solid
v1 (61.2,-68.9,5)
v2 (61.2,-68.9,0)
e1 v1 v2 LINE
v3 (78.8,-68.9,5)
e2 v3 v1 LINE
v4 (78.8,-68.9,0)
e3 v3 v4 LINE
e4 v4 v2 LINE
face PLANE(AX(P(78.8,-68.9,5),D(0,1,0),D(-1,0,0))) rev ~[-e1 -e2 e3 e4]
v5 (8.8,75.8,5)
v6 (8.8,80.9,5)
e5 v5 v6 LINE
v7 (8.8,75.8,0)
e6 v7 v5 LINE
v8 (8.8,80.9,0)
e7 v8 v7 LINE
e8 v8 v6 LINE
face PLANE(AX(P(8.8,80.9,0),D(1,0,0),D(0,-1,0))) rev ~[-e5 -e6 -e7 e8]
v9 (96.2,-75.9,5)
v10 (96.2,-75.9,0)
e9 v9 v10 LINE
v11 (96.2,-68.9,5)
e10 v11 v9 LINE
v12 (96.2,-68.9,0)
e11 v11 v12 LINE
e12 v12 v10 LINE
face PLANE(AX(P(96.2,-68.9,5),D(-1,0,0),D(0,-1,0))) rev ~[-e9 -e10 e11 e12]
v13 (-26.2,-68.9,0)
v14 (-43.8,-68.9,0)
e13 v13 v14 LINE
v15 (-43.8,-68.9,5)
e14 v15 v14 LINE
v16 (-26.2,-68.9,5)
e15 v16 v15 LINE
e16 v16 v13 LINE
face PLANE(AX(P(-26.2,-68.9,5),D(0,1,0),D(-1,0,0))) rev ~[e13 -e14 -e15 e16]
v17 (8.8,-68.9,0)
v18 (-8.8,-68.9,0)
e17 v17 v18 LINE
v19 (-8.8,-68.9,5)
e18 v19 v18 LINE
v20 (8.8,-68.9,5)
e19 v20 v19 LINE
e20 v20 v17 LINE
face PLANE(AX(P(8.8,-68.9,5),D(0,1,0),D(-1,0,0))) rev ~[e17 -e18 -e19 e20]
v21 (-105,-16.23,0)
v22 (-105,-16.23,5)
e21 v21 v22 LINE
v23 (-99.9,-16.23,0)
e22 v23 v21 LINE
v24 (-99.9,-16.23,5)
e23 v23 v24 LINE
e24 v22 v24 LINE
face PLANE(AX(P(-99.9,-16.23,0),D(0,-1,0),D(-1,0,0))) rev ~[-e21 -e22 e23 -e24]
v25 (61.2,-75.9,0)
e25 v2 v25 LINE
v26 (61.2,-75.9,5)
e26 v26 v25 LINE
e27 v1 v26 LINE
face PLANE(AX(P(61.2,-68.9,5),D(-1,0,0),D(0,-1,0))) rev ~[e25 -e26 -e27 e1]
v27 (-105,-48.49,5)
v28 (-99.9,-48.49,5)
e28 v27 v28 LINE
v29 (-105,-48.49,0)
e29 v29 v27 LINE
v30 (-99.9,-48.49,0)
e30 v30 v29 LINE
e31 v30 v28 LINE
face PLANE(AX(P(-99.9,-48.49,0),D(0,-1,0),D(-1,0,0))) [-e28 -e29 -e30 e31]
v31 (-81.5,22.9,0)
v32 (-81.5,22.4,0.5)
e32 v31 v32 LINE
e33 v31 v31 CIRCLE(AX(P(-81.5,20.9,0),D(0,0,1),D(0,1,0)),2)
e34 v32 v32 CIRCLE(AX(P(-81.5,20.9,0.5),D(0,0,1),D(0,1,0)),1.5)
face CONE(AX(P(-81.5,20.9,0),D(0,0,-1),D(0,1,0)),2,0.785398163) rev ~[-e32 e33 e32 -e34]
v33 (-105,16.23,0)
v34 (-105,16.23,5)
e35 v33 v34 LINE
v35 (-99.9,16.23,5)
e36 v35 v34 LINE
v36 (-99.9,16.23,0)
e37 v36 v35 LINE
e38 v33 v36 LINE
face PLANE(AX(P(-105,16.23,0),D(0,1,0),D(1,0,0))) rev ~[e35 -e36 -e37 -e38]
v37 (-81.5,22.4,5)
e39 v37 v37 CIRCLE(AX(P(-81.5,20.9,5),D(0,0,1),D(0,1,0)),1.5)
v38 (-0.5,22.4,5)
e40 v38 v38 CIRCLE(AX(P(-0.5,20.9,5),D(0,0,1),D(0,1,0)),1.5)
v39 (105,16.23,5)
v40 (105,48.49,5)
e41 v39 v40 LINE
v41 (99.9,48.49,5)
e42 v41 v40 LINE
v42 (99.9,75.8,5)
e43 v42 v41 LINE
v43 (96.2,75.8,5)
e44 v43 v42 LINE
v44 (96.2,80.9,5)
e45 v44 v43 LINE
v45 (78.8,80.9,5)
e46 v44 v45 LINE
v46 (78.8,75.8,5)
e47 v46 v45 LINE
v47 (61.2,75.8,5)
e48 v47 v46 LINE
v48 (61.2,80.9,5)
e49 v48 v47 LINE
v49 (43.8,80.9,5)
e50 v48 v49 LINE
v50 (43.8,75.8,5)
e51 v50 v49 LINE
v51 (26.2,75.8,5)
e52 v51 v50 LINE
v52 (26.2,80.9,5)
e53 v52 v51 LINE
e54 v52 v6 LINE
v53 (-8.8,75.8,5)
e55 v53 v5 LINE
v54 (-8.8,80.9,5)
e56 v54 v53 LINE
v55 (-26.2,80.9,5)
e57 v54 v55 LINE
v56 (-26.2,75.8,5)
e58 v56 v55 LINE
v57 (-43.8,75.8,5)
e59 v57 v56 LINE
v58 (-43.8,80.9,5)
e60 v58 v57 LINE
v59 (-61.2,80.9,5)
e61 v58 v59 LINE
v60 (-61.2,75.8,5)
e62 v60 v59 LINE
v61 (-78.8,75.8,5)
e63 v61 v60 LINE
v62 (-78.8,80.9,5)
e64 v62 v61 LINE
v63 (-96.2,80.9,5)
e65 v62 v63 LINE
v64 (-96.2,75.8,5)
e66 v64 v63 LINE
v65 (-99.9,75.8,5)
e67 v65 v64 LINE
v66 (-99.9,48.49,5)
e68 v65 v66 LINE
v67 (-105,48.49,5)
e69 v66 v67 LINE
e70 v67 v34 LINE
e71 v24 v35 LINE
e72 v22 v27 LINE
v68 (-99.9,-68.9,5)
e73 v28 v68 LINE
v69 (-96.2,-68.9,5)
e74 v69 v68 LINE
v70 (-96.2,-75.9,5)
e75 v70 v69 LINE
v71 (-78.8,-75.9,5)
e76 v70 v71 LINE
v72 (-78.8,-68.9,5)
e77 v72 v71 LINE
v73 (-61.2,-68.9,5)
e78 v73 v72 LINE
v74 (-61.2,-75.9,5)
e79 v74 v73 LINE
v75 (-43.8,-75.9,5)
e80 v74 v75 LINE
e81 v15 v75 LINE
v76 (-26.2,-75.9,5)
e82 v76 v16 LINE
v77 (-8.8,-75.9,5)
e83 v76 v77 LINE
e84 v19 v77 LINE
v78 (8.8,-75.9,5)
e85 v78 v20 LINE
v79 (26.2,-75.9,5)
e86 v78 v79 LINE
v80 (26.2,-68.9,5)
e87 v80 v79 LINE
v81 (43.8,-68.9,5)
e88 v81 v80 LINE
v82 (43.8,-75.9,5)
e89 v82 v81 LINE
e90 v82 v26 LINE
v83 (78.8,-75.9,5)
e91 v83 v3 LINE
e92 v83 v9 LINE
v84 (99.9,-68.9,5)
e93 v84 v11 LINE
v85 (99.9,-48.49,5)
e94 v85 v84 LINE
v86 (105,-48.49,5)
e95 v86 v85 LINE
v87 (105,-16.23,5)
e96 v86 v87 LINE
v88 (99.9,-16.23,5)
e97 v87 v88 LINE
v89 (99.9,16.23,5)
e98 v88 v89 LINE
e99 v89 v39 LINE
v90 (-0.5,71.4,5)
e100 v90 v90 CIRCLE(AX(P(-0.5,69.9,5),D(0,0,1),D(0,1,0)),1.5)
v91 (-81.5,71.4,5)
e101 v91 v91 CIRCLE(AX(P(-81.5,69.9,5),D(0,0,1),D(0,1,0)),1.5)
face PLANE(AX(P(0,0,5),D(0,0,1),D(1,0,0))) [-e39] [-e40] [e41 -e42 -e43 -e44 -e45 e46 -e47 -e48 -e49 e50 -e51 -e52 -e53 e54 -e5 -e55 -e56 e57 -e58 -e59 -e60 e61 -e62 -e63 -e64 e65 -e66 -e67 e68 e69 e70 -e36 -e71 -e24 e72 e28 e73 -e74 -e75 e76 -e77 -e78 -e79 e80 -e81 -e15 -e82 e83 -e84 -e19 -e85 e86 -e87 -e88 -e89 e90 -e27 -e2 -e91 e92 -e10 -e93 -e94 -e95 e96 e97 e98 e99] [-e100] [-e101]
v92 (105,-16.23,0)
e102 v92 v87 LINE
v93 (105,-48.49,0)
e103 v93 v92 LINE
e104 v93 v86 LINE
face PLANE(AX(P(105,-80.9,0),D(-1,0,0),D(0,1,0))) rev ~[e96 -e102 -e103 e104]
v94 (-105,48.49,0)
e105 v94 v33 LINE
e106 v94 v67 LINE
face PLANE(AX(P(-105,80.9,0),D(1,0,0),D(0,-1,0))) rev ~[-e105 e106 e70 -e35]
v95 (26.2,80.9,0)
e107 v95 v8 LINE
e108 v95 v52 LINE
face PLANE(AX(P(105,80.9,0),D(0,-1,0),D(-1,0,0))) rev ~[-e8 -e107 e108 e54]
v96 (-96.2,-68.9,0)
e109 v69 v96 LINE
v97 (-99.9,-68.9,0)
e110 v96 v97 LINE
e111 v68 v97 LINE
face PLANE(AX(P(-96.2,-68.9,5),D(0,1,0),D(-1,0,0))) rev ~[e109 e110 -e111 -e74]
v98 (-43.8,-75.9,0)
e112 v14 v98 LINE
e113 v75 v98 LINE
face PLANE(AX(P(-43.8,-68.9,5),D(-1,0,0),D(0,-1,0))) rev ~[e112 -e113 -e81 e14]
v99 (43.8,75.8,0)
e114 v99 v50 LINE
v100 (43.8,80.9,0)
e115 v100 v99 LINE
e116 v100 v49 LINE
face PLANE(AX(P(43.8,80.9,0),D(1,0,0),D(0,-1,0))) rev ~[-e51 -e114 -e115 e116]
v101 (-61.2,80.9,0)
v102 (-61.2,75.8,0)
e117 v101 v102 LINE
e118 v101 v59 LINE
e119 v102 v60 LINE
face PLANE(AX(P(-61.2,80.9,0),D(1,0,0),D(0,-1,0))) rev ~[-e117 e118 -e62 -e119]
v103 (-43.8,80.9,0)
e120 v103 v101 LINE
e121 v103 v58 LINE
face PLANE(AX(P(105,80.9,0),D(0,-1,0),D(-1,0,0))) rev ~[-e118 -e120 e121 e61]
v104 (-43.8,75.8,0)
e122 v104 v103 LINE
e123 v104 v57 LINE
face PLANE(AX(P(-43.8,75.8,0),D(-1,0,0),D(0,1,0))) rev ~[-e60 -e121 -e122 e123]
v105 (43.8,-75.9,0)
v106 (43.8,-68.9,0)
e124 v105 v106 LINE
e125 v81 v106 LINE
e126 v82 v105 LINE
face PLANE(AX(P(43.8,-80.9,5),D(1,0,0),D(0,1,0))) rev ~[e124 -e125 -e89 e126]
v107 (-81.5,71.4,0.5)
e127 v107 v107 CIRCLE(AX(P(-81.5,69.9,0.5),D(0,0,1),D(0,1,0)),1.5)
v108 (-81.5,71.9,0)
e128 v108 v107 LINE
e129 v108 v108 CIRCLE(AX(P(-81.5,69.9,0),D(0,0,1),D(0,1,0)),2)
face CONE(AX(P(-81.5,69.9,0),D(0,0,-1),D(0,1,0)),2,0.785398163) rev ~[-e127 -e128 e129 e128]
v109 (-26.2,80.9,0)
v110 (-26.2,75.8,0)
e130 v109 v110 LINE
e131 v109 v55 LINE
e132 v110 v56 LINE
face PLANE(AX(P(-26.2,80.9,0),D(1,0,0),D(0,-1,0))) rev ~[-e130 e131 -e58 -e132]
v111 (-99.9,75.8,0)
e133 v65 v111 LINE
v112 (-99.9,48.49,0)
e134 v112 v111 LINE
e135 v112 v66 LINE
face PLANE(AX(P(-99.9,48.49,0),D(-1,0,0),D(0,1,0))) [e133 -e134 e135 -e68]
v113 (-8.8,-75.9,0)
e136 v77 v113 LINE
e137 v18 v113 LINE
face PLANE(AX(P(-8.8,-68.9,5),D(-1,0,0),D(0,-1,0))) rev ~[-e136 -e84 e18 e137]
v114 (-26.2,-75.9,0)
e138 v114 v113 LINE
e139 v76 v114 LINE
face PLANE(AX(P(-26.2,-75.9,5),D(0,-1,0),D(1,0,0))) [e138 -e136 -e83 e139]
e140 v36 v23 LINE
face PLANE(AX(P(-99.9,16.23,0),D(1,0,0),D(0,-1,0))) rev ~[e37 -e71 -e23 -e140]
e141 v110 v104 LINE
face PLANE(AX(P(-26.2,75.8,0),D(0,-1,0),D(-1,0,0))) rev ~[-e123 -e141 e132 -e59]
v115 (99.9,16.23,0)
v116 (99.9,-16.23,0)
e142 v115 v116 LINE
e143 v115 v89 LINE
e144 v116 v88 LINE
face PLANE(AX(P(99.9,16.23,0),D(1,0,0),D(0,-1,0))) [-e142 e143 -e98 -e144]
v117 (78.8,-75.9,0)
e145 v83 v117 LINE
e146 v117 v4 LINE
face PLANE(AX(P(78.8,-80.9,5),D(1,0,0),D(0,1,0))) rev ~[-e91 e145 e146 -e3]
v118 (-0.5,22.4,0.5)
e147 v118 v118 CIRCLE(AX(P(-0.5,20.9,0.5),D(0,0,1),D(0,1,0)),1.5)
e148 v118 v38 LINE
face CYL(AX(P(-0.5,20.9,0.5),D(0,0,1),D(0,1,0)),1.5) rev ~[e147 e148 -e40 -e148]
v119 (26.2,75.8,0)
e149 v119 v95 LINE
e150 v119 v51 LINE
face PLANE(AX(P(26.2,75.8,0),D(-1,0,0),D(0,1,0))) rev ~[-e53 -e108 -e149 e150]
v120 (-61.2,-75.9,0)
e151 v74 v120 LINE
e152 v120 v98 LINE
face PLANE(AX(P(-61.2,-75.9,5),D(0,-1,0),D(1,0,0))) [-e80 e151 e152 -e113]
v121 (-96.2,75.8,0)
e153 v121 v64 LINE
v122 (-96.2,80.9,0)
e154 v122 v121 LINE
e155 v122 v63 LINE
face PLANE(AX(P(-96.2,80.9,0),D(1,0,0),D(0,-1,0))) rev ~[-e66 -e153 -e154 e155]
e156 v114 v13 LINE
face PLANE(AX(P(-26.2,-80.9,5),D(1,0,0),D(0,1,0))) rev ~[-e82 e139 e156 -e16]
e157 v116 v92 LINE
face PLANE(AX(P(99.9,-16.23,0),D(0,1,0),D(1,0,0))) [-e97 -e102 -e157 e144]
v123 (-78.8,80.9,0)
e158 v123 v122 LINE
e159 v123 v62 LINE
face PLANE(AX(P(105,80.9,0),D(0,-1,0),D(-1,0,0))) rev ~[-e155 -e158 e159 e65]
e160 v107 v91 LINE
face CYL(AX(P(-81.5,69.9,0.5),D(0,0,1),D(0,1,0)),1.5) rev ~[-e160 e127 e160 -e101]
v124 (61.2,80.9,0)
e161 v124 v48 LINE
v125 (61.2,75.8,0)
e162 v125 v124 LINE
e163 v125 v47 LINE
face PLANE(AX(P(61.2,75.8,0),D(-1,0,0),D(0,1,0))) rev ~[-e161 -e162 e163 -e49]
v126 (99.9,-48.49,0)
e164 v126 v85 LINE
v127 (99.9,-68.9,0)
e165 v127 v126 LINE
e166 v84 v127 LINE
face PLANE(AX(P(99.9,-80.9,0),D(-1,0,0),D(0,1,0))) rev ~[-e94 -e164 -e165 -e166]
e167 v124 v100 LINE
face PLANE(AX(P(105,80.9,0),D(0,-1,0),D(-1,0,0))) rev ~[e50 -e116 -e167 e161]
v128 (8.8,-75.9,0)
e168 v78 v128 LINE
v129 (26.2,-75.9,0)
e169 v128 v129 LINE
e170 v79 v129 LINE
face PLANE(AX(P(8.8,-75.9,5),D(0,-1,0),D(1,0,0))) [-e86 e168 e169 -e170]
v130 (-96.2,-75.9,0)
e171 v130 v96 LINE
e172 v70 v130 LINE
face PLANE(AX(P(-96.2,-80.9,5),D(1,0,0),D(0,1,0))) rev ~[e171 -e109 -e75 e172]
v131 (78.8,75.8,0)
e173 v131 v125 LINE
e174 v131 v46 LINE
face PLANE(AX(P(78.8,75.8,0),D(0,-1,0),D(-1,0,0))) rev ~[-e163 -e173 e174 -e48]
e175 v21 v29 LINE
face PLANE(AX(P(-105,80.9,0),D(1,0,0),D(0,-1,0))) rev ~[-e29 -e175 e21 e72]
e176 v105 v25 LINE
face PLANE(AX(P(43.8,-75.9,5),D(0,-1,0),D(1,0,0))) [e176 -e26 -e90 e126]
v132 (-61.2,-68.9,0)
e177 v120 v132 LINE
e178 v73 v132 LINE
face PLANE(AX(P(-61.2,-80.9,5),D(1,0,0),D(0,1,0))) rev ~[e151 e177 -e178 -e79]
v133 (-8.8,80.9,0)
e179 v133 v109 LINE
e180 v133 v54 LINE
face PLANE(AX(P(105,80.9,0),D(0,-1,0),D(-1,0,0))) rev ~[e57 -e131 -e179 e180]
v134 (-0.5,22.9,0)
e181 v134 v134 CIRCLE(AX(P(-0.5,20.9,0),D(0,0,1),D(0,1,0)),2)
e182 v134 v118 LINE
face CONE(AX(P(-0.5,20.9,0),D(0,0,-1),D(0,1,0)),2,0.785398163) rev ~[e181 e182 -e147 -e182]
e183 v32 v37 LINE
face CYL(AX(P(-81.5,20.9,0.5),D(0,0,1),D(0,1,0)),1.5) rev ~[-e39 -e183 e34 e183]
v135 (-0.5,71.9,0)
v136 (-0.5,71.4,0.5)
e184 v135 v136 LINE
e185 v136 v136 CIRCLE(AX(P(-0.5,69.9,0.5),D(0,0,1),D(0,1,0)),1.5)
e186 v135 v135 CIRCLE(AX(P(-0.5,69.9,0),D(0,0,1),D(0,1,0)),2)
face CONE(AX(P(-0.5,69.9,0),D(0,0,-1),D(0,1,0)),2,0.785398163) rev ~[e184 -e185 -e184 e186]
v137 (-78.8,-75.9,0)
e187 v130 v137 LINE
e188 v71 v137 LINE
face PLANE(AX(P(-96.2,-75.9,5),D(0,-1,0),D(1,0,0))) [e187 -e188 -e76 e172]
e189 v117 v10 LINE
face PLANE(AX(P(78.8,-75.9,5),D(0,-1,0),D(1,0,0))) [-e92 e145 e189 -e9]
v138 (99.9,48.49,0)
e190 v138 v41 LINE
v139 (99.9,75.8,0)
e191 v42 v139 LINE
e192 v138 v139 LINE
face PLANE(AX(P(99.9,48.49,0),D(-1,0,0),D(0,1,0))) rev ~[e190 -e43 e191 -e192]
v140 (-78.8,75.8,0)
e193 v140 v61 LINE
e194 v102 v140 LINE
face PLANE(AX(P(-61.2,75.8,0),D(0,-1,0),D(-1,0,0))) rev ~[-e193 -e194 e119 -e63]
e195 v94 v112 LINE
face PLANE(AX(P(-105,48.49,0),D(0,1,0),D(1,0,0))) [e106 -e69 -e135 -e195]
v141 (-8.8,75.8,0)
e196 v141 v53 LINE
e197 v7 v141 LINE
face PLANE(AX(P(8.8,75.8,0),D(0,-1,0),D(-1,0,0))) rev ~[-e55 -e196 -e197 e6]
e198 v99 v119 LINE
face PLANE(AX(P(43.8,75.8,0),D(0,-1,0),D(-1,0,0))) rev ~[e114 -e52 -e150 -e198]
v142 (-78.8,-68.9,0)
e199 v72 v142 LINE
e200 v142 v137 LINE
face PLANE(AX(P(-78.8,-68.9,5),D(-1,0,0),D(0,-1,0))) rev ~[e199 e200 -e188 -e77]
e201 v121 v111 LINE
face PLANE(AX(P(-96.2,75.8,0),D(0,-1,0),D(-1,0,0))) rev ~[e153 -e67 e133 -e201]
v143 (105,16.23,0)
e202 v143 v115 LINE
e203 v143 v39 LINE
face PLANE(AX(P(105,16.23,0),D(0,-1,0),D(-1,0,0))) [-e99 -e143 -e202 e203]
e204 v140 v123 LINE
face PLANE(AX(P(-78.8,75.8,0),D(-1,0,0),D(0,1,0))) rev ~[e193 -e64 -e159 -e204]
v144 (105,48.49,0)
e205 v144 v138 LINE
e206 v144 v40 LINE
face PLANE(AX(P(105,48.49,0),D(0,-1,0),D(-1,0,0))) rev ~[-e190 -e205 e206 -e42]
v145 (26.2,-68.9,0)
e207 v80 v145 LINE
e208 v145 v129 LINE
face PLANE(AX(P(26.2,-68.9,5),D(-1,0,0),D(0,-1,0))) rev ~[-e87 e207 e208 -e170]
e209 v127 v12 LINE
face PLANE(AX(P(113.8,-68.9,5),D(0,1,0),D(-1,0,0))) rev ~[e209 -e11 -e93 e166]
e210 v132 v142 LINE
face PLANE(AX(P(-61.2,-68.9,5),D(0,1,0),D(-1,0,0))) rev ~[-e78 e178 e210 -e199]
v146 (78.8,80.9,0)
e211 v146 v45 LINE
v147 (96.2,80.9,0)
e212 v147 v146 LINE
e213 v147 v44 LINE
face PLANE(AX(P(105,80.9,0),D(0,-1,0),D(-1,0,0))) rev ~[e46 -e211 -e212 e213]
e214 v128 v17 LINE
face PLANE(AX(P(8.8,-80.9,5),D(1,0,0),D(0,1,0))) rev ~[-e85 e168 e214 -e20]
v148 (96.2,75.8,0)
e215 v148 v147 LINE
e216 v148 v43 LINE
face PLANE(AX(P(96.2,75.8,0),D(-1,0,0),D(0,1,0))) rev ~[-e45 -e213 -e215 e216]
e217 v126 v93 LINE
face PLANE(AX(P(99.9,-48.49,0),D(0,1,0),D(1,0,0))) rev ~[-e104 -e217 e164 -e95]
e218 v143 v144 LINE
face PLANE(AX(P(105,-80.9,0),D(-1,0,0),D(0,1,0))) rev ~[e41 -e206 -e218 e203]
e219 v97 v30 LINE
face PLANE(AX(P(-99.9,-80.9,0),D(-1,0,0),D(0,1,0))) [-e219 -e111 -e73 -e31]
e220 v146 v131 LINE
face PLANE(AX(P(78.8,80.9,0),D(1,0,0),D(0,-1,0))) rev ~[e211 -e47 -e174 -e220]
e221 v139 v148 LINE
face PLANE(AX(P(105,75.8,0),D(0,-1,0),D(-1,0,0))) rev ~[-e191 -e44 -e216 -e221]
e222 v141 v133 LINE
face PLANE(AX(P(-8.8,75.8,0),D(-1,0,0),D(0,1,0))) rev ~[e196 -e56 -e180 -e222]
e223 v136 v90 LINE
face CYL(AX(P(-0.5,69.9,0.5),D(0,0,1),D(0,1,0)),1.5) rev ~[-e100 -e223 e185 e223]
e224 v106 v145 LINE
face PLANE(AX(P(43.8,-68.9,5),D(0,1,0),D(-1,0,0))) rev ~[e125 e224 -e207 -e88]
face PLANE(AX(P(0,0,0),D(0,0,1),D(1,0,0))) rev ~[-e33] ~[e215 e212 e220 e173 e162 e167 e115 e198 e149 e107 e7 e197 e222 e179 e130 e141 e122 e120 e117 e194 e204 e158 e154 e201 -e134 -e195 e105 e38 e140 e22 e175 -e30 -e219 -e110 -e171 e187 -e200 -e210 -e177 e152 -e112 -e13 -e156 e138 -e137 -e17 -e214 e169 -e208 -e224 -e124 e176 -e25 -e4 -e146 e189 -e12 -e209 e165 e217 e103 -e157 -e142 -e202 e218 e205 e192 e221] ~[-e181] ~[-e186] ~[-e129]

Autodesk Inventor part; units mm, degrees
ref_plane "YZ Plane" through (0, 0, 0) normal (1, 0, 0) x (0, 1, 0)
ref_plane "XZ Plane" through (0, 0, 0) normal (0, 1, 0) x (-1, 0, 0)
ref_plane "XY Plane" through (0, 0, 0) normal (0, 0, 1) x (1, 0, 0)
sketch "Sketch1" plane through (0, 0, 0) normal (0, 0, 1) x (1, 0, 0)
  line L0 (-105, -80.9) -> (105, -80.9)
  line L1 (105, -80.9) -> (105, 80.9)
  line L2 (105, 80.9) -> (-105, 80.9)
  line L3 (-105, 80.9) -> (-105, -80.9)
  line L4 (-105, -80.9) -> (105, 80.9) construction
  line L5 (105, -80.9) -> (-105, 80.9) construction
  point P0 (0, 0)
  dimension "d0" = 210
  dimension "d1" = 161.8
extrude "Extrusion1" add sketch "Sketch1" along normal blind 5
sketch "Sketch3" plane through (0, 0, 0) normal (0, 0, -1) x (-1, 0, 0)
  line L0 (0.5, 69.9) -> (81.5, 69.9)
  line L1 (81.5, 69.9) -> (81.5, 20.9)
  line L2 (81.5, 20.9) -> (0.5, 20.9)
  line L3 (0.5, 20.9) -> (0.5, 69.9)
  line L4 (105, 80.9) -> (105, -80.9) projected
  line L5 (-105, 80.9) -> (105, 80.9) projected
  point P0 (0, 0)
  dimension "d20" = 49
  dimension "d21" = 81
  dimension "d22" = 23.5
  dimension "d23" = 11
hole "Hole2" at (-0.5, 69.9, 0) at (-81.5, 69.9, 0) at (-0.5, 20.9, 0) at (-81.5, 20.9, 0) direction (0, 0, 1) diameter 3 end through all countersink diameter 4 countersink angle 90
sketch "Sketch4" plane through (0, 0, 0) normal (0, 0, -1) x (-1, 0, 0)
  line L0 (-105, 80.9) -> (105, 80.9) projected
  circle A0 centre (81.5, 20.9) radius 2 projected
  circle A1 centre (0.5, 20.9) radius 2 projected
  circle A2 centre (81.5, 69.9) radius 2 projected
  circle A3 centre (0.5, 69.9) radius 2 projected
  line L1 (-105, -80.9) -> (-105, 80.9) projected
  line L2 (105, -80.9) -> (-105, -80.9) projected
  line L3 (105, 80.9) -> (105, -80.9) projected
  line L4 (-105, 80.9) -> (105, 80.9) projected
  line L5 (8.8, 80.9) -> (-8.8, 80.9)
  line L6 (-8.8, 80.9) -> (-8.8, 75.8)
  line L7 (-8.8, 75.8) -> (8.8, 75.8)
  line L8 (8.8, 75.8) -> (8.8, 80.9)
  line L9 (-26.2, 75.8) -> (-26.2, 80.9)
  line L10 (-26.2, 80.9) -> (-43.8, 80.9)
  line L11 (-43.8, 80.9) -> (-43.8, 75.8)
  line L12 (-43.8, 75.8) -> (-26.2, 75.8)
  line L13 (-61.2, 75.8) -> (-61.2, 80.9)
  line L14 (-61.2, 80.9) -> (-78.8, 80.9)
  line L15 (-78.8, 80.9) -> (-78.8, 75.8)
  line L16 (-78.8, 75.8) -> (-61.2, 75.8)
  line L17 (-96.2, 75.8) -> (-96.2, 80.9)
  line L18 (-96.2, 80.9) -> (-113.8, 80.9)
  line L19 (-113.8, 80.9) -> (-113.8, 75.8)
  line L20 (-113.8, 75.8) -> (-96.2, 75.8)
  line L21 (26.2, 80.9) -> (26.2, 75.8)
  line L22 (43.8, 80.9) -> (26.2, 80.9)
  line L23 (43.8, 75.8) -> (43.8, 80.9)
  line L24 (26.2, 75.8) -> (43.8, 75.8)
  line L25 (61.2, 80.9) -> (61.2, 75.8)
  line L26 (78.8, 80.9) -> (61.2, 80.9)
  line L27 (78.8, 75.8) -> (78.8, 80.9)
  line L28 (61.2, 75.8) -> (78.8, 75.8)
  line L29 (96.2, 80.9) -> (96.2, 75.8)
  line L30 (113.8, 80.9) -> (96.2, 80.9)
  line L31 (113.8, 75.8) -> (113.8, 80.9)
  line L32 (96.2, 75.8) -> (113.8, 75.8)
  line L33 (0, 0) -> (105, 0) construction
  point P0 (0, 75.8)
  point P1 (8.8, 80.9)
  point P2 (-8.8, 80.9)
  point P3 (0, 80.9)
  point P4 (-35, 80.9)
  point P5 (-35, 75.8)
  point P6 (-70, 80.9)
  point P7 (-70, 75.8)
  point P8 (-105, 80.9)
  point P9 (-105, 75.8)
  point P10 (35, 75.8)
  point P11 (35, 80.9)
  point P12 (70, 75.8)
  point P13 (70, 80.9)
  point P14 (105, 75.8)
  point P15 (105, 80.9)
  point P16 (-105, 75.8)
  point P17 (105, 75.8)
  dimension "d43" = 210
  dimension "d44" = 17.6
  dimension "d45" = 5.1
  dimension "d48" = 35
  dimension "d55" = 35
extrude "Extrusion2" cut sketch "Sketch4" against normal blind 10 contours L0 L17 L20 L1 | L0 L13 L16 L15 | L0 L9 L12 L11 | L32 L29 L0 L3 | L0 L8 L7 L6 | L27 L28 L25 L0 | L0 L23 L24 L21
sketch "Sketch5" plane through (0, 0, 0) normal (0, 0, -1) x (-1, 0, 0)
  line L0 (-105, -80.9) -> (-105, 80.9) projected
  line L1 (-105, 80.9) -> (26.2, 80.9) projected
  line L2 (-105, 48.49) -> (-99.9, 48.49)
  line L3 (-99.9, 48.49) -> (-99.9, 80.9)
  line L4 (-99.9, 80.9) -> (-105, 80.9)
  line L5 (-105, 80.9) -> (-105, 48.49)
  line L6 (-105, 16.23) -> (-99.9, 16.23)
  line L7 (-99.9, 16.23) -> (-99.9, -16.23)
  line L8 (-99.9, -16.23) -> (-105, -16.23)
  line L9 (-105, -16.23) -> (-105, 16.23)
  line L10 (-105, -80.9) -> (-99.9, -80.9)
  line L11 (-99.9, -80.9) -> (-99.9, -48.49)
  line L12 (-99.9, -48.49) -> (-105, -48.49)
  line L13 (-105, -48.49) -> (-105, -80.9)
  line L14 (-102.45, 48.49) -> (-102.45, 16.23) construction
  line L15 (-102.45, -48.49) -> (-102.45, -16.23) construction
  line L16 (0, 0) -> (0, 62.5) construction
  line L17 (105, -80.9) -> (105, 80.9)
  line L18 (105, 80.9) -> (96.35, 80.9)
  line L19 (105, 48.49) -> (99.9, 48.49)
  line L20 (99.9, 48.49) -> (99.9, 80.9)
  line L21 (99.9, 80.9) -> (105, 80.9)
  line L22 (105, 80.9) -> (105, 48.49)
  line L23 (105, 16.23) -> (99.9, 16.23)
  line L24 (99.9, 16.23) -> (99.9, -16.23)
  line L25 (99.9, -16.23) -> (105, -16.23)
  line L26 (105, -16.23) -> (105, 16.23)
  line L27 (105, -80.9) -> (99.9, -80.9)
  line L28 (99.9, -80.9) -> (99.9, -48.49)
  line L29 (99.9, -48.49) -> (105, -48.49)
  line L30 (105, -48.49) -> (105, -80.9)
  line L31 (102.45, 48.49) -> (102.45, 16.23) construction
  line L32 (102.45, -48.49) -> (102.45, -16.23) construction
  point P0 (-96.35, 80.9)
  point P1 (-99.9, 0)
  point P2 (-105, 0)
  point P3 (99.9, 0)
  point P4 (105, 0)
  point P5 (-105, -48.49)
  point P6 (-105, 16.23)
  point P7 (-105, -16.23)
  dimension "d37" = 32.46
  dimension "d38" = 161.8
  dimension "d39" = 5.1
  dimension "d40" = 32.26
extrude "Extrusion3" cut sketch "Sketch5" against normal blind 10
sketch "Sketch7" plane through (0, 0, 5) normal (0, 0, 1) x (1, 0, 0)
  line L0 (-105, -48.49) -> (105, -48.49)
  line L1 (8.8, -68.9) -> (-8.8, -68.9)
  line L2 (-8.8, -68.9) -> (-8.8, -80.9)
  line L3 (-8.8, -80.9) -> (8.8, -80.9)
  line L4 (8.8, -80.9) -> (8.8, -68.9)
  line L5 (-26.2, -80.9) -> (-26.2, -68.9)
  line L6 (-26.2, -68.9) -> (-43.8, -68.9)
  line L7 (-43.8, -68.9) -> (-43.8, -80.9)
  line L8 (-43.8, -80.9) -> (-26.2, -80.9)
  line L9 (-61.2, -80.9) -> (-61.2, -68.9)
  line L10 (-61.2, -68.9) -> (-78.8, -68.9)
  line L11 (-78.8, -68.9) -> (-78.8, -80.9)
  line L12 (-78.8, -80.9) -> (-61.2, -80.9)
  line L13 (-96.2, -80.9) -> (-96.2, -68.9)
  line L14 (-96.2, -68.9) -> (-113.8, -68.9)
  line L15 (-113.8, -68.9) -> (-113.8, -80.9)
  line L16 (-113.8, -80.9) -> (-96.2, -80.9)
  line L17 (26.2, -68.9) -> (26.2, -80.9)
  line L18 (43.8, -68.9) -> (26.2, -68.9)
  line L19 (43.8, -80.9) -> (43.8, -68.9)
  line L20 (26.2, -80.9) -> (43.8, -80.9)
  line L21 (61.2, -68.9) -> (61.2, -80.9)
  line L22 (78.8, -68.9) -> (61.2, -68.9)
  line L23 (78.8, -80.9) -> (78.8, -68.9)
  line L24 (61.2, -80.9) -> (78.8, -80.9)
  line L25 (96.2, -68.9) -> (96.2, -80.9)
  line L26 (113.8, -68.9) -> (96.2, -68.9)
  line L27 (113.8, -80.9) -> (113.8, -68.9)
  line L28 (96.2, -80.9) -> (113.8, -80.9)
  line L29 (-99.9, -80.9) -> (99.9, -80.9) projected
  point P0 (0, 0)
  point P1 (0, -80.9)
  point P2 (0, -48.49)
  point P3 (-35, -48.49)
  point P4 (-35, -80.9)
  point P5 (-70, -48.49)
  point P6 (-70, -80.9)
  point P7 (-105, -48.49)
  point P8 (-105, -80.9)
  point P9 (35, -80.9)
  point P10 (35, -48.49)
  point P11 (70, -80.9)
  point P12 (70, -48.49)
  point P13 (105, -80.9)
  point P14 (105, -48.49)
  point P15 (0, -80.9)
  point P16 (105, -48.49)
  dimension "d68" = 210
  dimension "d69" = 17.6
  dimension "d70" = 12
  dimension "d71" = 35
  dimension "d72" = 35
extrude "Extrusion4" cut sketch "Sketch7" against normal blind 10
sketch "Sketch8" plane through (0, 0, 5) normal (0, 0, 1) x (1, 0, 0)
  line L0 (-96.2, -68.9) -> (-96.2, -80.9) projected
  line L1 (-96.2, -75.9) -> (96.2, -75.9)
  line L2 (96.2, -80.9) -> (96.2, -68.9) projected
  line L3 (-96.2, -80.9) -> (-78.8, -80.9) projected
  line L4 (61.2, -80.9) -> (61.2, -68.9) projected
  line L5 (61.2, -68.9) -> (78.8, -68.9) projected
  line L6 (78.8, -68.9) -> (78.8, -80.9) projected
  line L7 (78.8, -80.9) -> (96.2, -80.9) projected
  line L8 (96.2, -80.9) -> (96.2, -68.9) projected
  line L9 (96.2, -68.9) -> (99.9, -68.9) projected
  line L10 (99.9, -68.9) -> (99.9, -48.49) projected
  line L11 (99.9, -48.49) -> (105, -48.49) projected
  line L12 (105, -48.49) -> (105, -16.23) projected
  line L13 (105, -16.23) -> (99.9, -16.23) projected
  line L14 (99.9, -16.23) -> (99.9, 16.23) projected
  line L15 (99.9, 16.23) -> (105, 16.23) projected
  line L16 (105, 16.23) -> (105, 48.49) projected
  line L17 (105, 48.49) -> (99.9, 48.49) projected
  line L18 (99.9, 48.49) -> (99.9, 75.8) projected
  line L19 (99.9, 75.8) -> (96.2, 75.8) projected
  line L20 (96.2, 75.8) -> (96.2, 80.9) projected
  line L21 (96.2, 80.9) -> (78.8, 80.9) projected
  line L22 (78.8, 80.9) -> (78.8, 75.8) projected
  line L23 (78.8, 75.8) -> (61.2, 75.8) projected
  line L24 (61.2, 75.8) -> (61.2, 80.9) projected
  line L25 (61.2, 80.9) -> (43.8, 80.9) projected
  line L26 (43.8, 80.9) -> (43.8, 75.8) projected
  line L27 (43.8, 75.8) -> (26.2, 75.8) projected
  line L28 (26.2, 75.8) -> (26.2, 80.9) projected
  line L29 (26.2, 80.9) -> (8.8, 80.9) projected
  line L30 (8.8, 80.9) -> (8.8, 75.8) projected
  line L31 (8.8, 75.8) -> (-8.8, 75.8) projected
  line L32 (-8.8, 75.8) -> (-8.8, 80.9) projected
  line L33 (-8.8, 80.9) -> (-26.2, 80.9) projected
  line L34 (-26.2, 80.9) -> (-26.2, 75.8) projected
  line L35 (-26.2, 75.8) -> (-43.8, 75.8) projected
  line L36 (-43.8, 75.8) -> (-43.8, 80.9) projected
  line L37 (-43.8, 80.9) -> (-61.2, 80.9) projected
  line L38 (-61.2, 80.9) -> (-61.2, 75.8) projected
  line L39 (-61.2, 75.8) -> (-78.8, 75.8) projected
  line L40 (-78.8, 75.8) -> (-78.8, 80.9) projected
  line L41 (-78.8, 80.9) -> (-96.2, 80.9) projected
  line L42 (-96.2, 80.9) -> (-96.2, 75.8) projected
  line L43 (-96.2, 75.8) -> (-99.9, 75.8) projected
  line L44 (-99.9, 75.8) -> (-99.9, 48.49) projected
  line L45 (-99.9, 48.49) -> (-105, 48.49) projected
  line L46 (-105, 48.49) -> (-105, 16.23) projected
  line L47 (-105, 16.23) -> (-99.9, 16.23) projected
  line L48 (-99.9, 16.23) -> (-99.9, -16.23) projected
  line L49 (-99.9, -16.23) -> (-105, -16.23) projected
  line L50 (-105, -16.23) -> (-105, -48.49) projected
  line L51 (-105, -48.49) -> (-99.9, -48.49) projected
  line L52 (-99.9, -48.49) -> (-99.9, -68.9) projected
  line L53 (-99.9, -68.9) -> (-96.2, -68.9) projected
  line L54 (-96.2, -68.9) -> (-96.2, -80.9) projected
  line L55 (-96.2, -80.9) -> (-78.8, -80.9) projected
  line L56 (-78.8, -80.9) -> (-78.8, -68.9) projected
  line L57 (-78.8, -68.9) -> (-61.2, -68.9) projected
  line L58 (-61.2, -68.9) -> (-61.2, -80.9) projected
  line L59 (-61.2, -80.9) -> (-43.8, -80.9) projected
  line L60 (-43.8, -80.9) -> (-43.8, -68.9) projected
  line L61 (-43.8, -68.9) -> (-26.2, -68.9) projected
  line L62 (-26.2, -68.9) -> (-26.2, -80.9) projected
  line L63 (-26.2, -80.9) -> (-8.8, -80.9) projected
  line L64 (-8.8, -80.9) -> (-8.8, -68.9) projected
  line L65 (-8.8, -68.9) -> (8.8, -68.9) projected
  line L66 (8.8, -68.9) -> (8.8, -80.9) projected
  line L67 (8.8, -80.9) -> (26.2, -80.9) projected
  line L68 (26.2, -80.9) -> (26.2, -68.9) projected
  line L69 (26.2, -68.9) -> (43.8, -68.9) projected
  line L70 (43.8, -68.9) -> (43.8, -80.9) projected
  line L71 (43.8, -80.9) -> (61.2, -80.9) projected
  point P0 (0, 0)
  point P1 (-78.8, -75.9)
  point P2 (78.8, -75.9)
  point P3 (-43.8, -75.9)
  point P4 (-61.2, -75.9)
  point P5 (-8.8, -75.9)
  point P6 (-26.2, -75.9)
  point P7 (61.2, -75.9)
  point P8 (43.8, -75.9)
  point P9 (26.2, -75.9)
  point P10 (8.8, -75.9)
  dimension "d77" = 5
extrude "Extrusion5" cut sketch "Sketch8" against normal blind 10 contours L1 L56 L3 L0 | L1 L60 L59 L58 | L1 L64 L63 L62 | L1 L68 L67 L66 | L68 L69 L70 L1 | L1 L4 L71 L70 | L1 L2 L7 L6
equation "\"d48\" = 0.166667 * d43"
equation "\"d55\" = 0.166667 * d43"
equation "\"d71\" = 0.166667 * d68"
equation "\"d72\" = 0.166667 * d68"
properties part number "FloorPlate_1" material "MDF Medium Density Fiberboard"
